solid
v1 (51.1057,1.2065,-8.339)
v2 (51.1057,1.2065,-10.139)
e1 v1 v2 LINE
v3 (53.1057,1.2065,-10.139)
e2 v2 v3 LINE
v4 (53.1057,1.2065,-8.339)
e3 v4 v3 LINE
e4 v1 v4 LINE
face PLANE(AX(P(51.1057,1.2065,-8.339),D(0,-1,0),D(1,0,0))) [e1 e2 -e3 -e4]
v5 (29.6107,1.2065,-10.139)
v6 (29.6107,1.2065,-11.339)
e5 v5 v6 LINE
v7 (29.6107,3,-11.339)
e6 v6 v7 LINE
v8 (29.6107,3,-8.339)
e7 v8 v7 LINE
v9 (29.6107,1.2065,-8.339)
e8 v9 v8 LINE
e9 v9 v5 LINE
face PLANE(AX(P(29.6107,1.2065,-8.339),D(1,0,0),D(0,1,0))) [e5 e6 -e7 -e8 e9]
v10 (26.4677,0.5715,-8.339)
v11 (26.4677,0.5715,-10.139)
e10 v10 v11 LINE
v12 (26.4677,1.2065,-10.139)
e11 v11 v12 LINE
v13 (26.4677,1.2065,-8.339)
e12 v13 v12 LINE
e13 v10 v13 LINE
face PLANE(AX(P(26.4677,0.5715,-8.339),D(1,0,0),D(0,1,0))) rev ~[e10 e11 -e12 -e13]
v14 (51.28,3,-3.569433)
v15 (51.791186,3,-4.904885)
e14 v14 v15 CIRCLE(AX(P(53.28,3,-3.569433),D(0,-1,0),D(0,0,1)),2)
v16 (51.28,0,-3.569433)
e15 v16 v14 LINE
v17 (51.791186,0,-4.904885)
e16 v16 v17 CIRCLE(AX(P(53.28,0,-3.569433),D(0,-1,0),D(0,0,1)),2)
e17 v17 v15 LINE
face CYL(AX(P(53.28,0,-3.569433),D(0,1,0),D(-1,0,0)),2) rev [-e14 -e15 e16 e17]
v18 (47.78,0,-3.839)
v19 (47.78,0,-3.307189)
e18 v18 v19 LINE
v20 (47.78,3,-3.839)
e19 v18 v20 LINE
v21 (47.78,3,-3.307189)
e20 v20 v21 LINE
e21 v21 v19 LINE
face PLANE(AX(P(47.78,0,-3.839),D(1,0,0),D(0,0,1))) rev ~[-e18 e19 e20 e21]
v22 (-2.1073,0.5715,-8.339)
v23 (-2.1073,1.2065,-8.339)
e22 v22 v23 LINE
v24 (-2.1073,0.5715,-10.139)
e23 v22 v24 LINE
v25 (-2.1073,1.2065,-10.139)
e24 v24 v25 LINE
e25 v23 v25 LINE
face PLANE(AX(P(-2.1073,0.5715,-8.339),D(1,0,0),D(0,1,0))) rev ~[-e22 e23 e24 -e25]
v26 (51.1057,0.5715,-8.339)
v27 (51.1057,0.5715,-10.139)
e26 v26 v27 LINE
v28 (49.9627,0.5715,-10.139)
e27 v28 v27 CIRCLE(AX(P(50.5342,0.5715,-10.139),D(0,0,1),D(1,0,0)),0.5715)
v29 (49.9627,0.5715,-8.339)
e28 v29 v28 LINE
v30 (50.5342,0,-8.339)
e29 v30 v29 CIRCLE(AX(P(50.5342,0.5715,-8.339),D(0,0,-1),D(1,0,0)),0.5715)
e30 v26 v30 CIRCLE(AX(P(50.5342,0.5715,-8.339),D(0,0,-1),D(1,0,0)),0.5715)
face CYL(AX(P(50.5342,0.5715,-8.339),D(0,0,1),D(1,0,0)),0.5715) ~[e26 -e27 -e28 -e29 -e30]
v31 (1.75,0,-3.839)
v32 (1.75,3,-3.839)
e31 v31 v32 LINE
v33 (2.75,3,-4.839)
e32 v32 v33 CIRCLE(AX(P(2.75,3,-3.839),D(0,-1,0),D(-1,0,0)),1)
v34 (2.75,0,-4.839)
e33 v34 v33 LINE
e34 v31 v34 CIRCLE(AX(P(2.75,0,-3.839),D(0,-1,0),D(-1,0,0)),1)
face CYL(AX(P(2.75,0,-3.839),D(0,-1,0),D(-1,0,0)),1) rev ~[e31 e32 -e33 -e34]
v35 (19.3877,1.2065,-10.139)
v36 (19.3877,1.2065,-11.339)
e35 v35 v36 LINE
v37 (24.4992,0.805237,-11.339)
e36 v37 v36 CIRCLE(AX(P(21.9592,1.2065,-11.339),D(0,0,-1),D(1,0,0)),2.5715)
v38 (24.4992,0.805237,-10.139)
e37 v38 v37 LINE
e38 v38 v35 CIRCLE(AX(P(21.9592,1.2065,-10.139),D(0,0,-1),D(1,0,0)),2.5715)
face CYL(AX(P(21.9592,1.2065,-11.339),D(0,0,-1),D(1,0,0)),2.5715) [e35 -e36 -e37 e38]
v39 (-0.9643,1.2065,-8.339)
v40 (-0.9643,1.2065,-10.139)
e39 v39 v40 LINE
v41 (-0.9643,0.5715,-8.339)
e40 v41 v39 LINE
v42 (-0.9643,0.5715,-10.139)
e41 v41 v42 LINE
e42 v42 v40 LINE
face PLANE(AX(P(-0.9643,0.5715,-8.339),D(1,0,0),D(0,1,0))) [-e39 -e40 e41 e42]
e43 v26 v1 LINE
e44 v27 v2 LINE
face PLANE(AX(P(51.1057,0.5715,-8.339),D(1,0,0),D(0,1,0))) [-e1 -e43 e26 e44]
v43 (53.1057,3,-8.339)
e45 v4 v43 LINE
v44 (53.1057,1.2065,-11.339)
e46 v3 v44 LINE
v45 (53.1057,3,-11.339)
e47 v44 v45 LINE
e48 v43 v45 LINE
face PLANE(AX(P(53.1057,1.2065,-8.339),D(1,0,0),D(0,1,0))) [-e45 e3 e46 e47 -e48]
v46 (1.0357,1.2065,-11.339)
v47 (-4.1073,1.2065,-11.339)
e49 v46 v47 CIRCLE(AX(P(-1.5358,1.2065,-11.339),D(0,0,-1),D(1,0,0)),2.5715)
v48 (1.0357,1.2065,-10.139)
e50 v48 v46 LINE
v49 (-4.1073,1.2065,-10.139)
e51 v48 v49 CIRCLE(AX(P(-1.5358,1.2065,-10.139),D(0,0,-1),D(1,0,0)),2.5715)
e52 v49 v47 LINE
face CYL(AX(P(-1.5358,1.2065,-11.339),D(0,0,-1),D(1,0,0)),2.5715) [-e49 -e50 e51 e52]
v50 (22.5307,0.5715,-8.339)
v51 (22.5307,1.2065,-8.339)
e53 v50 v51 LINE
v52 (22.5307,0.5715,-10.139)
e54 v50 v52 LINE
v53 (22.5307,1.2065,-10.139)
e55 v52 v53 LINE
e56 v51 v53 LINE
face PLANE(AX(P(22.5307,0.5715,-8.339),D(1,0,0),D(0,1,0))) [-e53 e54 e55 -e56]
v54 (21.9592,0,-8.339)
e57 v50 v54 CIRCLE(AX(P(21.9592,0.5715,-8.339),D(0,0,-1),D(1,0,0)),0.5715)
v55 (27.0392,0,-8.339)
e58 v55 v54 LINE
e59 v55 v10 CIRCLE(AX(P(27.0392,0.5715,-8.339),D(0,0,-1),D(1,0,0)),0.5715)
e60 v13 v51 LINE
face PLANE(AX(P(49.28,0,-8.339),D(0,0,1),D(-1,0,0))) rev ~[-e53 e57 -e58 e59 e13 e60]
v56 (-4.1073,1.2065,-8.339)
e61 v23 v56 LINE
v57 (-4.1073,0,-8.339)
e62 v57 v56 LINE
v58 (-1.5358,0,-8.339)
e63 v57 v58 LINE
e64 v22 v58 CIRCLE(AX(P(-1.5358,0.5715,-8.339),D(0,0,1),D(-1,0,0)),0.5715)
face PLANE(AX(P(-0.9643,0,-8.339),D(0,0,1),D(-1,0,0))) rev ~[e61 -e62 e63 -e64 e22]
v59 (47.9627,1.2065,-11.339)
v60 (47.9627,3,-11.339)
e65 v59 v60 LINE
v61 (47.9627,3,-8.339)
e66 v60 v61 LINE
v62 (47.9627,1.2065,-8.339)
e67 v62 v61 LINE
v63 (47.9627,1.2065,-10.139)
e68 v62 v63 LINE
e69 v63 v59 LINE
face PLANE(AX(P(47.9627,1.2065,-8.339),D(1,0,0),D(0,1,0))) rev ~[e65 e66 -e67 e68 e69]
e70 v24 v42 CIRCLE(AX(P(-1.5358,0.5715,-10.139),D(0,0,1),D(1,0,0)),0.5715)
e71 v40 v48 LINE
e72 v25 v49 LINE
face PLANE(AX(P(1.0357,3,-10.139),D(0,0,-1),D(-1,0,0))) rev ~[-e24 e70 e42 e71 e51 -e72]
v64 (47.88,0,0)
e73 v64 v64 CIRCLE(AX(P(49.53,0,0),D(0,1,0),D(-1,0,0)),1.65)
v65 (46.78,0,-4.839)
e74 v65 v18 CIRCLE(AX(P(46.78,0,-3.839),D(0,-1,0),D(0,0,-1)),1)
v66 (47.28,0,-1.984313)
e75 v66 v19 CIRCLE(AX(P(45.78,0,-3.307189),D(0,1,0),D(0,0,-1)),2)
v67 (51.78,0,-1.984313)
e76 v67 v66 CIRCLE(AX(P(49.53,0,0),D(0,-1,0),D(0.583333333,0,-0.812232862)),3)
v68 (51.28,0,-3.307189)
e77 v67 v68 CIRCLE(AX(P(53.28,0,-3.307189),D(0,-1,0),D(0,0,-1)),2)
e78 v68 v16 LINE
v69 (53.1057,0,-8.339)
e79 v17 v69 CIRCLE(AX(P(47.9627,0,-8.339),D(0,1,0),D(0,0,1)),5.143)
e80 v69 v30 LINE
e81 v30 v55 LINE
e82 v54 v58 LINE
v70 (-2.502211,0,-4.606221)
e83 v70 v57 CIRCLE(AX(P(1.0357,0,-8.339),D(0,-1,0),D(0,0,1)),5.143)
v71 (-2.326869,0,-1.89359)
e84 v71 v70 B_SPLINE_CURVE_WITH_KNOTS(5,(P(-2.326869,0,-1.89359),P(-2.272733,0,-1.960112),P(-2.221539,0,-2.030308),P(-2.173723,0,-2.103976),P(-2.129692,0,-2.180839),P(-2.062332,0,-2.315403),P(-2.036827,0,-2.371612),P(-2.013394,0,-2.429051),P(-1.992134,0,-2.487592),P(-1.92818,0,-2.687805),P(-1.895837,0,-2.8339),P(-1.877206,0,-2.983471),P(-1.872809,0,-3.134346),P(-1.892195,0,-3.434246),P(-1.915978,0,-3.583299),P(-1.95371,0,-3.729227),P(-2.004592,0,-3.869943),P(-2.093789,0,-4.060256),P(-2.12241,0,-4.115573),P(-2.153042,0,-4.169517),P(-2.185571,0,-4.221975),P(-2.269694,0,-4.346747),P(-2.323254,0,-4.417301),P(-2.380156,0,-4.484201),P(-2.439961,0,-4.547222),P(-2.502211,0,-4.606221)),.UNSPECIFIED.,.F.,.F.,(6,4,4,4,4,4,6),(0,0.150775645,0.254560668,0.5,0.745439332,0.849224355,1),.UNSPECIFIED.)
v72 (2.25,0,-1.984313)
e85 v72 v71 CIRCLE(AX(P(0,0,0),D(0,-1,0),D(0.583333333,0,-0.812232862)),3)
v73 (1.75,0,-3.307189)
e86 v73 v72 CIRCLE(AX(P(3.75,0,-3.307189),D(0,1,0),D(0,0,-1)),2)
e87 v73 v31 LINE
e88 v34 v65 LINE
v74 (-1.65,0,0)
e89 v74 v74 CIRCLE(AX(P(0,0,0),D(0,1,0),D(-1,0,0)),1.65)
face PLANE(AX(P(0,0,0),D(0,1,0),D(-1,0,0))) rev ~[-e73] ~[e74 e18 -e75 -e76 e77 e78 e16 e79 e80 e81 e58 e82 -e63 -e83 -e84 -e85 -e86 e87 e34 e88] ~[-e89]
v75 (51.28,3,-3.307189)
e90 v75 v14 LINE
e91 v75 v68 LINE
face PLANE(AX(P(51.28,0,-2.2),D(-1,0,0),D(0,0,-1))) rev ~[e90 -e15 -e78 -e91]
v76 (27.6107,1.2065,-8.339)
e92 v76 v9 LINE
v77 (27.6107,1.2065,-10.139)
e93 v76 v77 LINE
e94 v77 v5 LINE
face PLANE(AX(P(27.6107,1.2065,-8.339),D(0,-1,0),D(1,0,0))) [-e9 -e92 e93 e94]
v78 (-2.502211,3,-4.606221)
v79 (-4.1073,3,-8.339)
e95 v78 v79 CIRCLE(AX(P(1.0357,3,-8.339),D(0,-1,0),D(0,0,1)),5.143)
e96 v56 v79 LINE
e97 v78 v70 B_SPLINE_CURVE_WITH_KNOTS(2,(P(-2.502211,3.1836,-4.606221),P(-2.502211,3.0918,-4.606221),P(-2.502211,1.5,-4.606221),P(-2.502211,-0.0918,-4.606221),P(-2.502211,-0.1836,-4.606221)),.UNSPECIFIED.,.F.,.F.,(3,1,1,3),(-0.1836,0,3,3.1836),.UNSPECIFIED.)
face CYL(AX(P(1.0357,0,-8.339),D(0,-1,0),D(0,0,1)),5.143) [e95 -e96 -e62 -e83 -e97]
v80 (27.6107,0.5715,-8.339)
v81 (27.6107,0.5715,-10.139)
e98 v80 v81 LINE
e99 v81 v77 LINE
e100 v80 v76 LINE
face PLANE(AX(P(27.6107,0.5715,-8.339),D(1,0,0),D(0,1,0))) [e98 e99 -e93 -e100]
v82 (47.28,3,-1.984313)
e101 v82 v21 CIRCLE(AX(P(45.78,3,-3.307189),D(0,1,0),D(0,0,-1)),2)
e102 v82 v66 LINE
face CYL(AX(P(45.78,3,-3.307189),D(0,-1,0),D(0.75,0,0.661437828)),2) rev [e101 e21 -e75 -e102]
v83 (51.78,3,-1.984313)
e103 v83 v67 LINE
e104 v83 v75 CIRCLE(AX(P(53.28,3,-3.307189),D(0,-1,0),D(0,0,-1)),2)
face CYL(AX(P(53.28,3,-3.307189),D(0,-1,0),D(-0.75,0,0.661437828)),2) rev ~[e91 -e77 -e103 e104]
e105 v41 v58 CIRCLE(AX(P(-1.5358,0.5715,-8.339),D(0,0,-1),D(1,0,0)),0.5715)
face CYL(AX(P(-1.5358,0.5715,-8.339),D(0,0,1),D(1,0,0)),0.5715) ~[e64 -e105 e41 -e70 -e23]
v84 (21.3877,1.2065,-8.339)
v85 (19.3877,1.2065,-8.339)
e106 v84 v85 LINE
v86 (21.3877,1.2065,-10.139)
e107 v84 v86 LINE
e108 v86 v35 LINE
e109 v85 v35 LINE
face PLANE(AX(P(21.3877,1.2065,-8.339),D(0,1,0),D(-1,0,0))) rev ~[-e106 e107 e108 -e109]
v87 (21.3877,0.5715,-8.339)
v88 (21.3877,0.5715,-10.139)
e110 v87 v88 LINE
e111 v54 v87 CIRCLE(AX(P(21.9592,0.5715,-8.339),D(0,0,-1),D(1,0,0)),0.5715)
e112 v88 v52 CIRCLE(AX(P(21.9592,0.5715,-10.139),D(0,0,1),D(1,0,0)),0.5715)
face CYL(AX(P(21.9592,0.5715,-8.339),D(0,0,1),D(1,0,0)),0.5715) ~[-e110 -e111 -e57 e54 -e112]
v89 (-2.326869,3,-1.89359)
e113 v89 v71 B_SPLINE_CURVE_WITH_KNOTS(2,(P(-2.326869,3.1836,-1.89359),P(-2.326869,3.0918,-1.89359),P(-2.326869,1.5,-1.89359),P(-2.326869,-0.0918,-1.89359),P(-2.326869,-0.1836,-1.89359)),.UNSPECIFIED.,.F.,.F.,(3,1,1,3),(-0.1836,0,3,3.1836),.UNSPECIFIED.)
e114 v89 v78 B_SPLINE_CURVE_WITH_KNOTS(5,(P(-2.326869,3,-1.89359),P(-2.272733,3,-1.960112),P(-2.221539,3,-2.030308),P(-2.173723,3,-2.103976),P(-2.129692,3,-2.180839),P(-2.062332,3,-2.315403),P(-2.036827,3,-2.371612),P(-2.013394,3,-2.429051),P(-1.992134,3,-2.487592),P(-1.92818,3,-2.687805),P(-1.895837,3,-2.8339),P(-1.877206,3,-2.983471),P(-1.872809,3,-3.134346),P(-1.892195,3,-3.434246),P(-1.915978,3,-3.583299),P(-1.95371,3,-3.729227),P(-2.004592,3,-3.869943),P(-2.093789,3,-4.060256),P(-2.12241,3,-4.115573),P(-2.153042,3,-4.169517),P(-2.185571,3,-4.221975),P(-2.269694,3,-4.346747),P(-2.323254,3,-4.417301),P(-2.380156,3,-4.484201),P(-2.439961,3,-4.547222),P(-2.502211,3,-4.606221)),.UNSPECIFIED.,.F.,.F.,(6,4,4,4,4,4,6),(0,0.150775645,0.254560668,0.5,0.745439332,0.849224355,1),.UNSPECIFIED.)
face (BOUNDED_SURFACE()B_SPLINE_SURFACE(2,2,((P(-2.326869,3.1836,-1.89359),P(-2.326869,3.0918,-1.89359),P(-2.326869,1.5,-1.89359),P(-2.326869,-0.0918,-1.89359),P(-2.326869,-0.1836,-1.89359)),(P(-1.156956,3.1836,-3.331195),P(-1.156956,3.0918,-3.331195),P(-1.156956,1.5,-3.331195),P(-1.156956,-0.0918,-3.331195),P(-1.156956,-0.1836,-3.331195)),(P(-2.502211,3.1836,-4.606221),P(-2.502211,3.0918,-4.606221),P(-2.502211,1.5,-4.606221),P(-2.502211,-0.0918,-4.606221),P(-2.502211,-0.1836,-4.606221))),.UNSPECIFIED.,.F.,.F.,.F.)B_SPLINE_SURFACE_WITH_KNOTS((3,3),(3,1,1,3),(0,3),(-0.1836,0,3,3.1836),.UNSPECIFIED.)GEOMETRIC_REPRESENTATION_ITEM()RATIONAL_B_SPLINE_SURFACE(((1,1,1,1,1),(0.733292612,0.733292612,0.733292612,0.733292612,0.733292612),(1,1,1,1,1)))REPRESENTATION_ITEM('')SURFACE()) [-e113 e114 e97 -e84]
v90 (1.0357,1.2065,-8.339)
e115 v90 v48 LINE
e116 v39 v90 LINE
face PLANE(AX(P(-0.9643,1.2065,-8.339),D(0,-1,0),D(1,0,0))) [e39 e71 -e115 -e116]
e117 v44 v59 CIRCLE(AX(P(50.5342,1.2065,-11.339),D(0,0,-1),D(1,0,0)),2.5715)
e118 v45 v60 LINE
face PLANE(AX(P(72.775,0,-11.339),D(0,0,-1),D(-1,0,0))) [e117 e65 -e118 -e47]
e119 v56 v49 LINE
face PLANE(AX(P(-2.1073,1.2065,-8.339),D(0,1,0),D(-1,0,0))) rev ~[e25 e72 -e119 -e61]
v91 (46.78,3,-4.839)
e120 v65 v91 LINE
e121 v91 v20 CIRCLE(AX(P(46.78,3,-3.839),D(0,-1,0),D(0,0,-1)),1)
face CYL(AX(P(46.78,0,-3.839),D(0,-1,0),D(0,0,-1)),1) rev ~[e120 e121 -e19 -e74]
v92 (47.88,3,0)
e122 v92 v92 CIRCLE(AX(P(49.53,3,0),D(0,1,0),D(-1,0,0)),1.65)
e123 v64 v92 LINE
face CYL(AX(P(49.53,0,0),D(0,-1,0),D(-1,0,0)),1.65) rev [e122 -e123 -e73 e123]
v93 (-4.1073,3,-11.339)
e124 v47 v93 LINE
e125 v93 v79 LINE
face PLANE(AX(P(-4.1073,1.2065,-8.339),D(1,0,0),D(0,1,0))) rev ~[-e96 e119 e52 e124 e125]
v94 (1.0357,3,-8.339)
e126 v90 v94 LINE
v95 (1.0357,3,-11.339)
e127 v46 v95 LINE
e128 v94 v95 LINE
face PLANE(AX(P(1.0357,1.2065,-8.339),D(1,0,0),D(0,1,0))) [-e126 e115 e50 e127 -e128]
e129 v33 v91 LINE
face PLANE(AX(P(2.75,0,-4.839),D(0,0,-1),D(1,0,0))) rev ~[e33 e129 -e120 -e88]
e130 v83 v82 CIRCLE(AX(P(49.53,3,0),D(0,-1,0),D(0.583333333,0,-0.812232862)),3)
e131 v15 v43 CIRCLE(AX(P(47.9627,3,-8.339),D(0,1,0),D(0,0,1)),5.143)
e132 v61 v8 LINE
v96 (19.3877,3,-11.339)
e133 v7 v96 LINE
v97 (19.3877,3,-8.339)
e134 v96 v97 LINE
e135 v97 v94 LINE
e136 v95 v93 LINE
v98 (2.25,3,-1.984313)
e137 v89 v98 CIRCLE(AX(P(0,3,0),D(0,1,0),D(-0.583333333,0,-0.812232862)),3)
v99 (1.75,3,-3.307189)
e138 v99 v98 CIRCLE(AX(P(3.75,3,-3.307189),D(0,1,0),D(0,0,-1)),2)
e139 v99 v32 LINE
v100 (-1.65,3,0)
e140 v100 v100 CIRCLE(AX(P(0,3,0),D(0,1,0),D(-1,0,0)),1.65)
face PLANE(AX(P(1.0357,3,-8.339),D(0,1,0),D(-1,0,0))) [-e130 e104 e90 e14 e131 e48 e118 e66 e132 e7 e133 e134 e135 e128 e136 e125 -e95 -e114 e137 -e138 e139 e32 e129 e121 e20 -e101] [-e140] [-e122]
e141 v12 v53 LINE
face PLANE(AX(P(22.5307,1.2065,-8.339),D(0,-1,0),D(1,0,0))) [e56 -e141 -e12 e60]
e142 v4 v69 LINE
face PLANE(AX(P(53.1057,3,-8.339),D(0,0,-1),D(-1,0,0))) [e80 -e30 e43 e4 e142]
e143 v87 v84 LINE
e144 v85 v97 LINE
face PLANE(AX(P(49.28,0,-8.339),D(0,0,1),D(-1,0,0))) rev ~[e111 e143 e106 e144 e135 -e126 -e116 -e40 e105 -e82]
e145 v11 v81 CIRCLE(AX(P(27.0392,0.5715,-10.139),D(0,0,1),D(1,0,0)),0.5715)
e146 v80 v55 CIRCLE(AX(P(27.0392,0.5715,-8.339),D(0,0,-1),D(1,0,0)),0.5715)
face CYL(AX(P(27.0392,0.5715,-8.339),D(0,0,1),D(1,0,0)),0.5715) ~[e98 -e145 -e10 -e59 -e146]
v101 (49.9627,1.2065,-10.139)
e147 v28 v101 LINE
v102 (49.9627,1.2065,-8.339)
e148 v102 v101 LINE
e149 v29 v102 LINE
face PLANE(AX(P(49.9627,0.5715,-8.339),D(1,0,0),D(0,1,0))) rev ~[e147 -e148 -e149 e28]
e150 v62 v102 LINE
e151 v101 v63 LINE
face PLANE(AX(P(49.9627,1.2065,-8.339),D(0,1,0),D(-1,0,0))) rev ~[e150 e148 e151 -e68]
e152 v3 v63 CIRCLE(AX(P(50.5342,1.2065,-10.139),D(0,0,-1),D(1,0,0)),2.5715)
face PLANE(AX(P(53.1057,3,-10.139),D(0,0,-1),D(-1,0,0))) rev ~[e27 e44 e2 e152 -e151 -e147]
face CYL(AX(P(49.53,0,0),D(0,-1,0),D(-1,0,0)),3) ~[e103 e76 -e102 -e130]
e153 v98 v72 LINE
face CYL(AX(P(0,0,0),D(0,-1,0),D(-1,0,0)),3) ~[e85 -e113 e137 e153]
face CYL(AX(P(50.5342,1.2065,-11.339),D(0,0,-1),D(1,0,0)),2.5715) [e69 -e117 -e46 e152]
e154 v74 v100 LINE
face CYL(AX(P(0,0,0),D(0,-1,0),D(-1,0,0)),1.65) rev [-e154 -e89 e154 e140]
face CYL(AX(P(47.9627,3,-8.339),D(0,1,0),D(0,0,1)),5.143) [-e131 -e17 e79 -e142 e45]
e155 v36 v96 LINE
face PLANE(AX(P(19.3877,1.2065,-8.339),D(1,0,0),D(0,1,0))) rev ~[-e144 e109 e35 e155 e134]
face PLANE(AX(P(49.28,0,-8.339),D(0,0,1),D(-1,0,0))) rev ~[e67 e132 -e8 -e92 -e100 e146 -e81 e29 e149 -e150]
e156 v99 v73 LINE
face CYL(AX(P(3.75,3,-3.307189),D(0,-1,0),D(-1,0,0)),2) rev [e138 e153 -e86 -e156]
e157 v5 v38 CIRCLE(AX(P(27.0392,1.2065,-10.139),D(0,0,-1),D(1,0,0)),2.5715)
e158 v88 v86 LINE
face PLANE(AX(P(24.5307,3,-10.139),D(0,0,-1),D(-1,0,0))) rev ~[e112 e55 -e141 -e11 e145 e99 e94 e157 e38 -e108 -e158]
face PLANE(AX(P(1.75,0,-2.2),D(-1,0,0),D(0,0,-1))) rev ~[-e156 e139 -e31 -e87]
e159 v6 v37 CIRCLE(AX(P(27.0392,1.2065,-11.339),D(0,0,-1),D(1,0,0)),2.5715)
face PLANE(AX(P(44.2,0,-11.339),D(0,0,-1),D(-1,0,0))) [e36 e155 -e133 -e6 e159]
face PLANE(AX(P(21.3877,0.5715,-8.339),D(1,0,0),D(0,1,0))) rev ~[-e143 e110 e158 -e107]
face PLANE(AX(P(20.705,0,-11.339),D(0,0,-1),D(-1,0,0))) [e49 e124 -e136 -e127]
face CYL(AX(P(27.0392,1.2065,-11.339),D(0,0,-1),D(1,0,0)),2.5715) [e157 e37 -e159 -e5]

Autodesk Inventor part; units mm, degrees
ref_plane "YZ Plane" through (0, 0, 0) normal (1, 0, 0) x (0, 1, 0)
ref_plane "XZ Plane" through (0, 0, 0) normal (0, 1, 0) x (-1, 0, 0)
ref_plane "XY Plane" through (0, 0, 0) normal (0, 0, 1) x (1, 0, 0)
sketch "Sketch1" plane through (0, 0, 0) normal (0, 1, 0) x (-1, 0, 0)
  circle A0 centre (0, 0) radius 1.65
  line L0 (0, 0) -> (22.8671, 0) construction
  circle A1 centre (-49.53, 0) radius 1.65
  circle A2 centre (-49.53, 0) radius 3
  line L1 (-24.765, 0) -> (-24.765, 33.4897) construction
  line L2 (0, 0) -> (0, -6.322) construction
  line L3 (-49.53, 0) -> (-44.53, 0) construction
  circle A3 centre (0, 0) radius 3
  dimension "d0" = 3.3
  dimension "d2" = 49.53
  dimension "d3" = 3.3
  dimension "d4" = 6
  dimension "d11" = 6
extrude "Extrusion1" add sketch "Sketch1" along normal blind 3
sketch "Sketch2" plane through (49.53, 0, 0) normal (0, -1, 0) x (1, 0, 0)
  line L0 (1.75, -2.2) -> (1.75, -6.339)
  line L1 (-0.25, -8.339) -> (-49.28, -8.339)
  line L2 (-51.28, -6.339) -> (-51.28, -2.2)
  line L3 (-47.78, -2.2) -> (-47.78, -3.839)
  line L4 (-46.78, -4.839) -> (-2.75, -4.839)
  line L5 (-1.75, -3.839) -> (-1.75, -2.2)
  line L6 (0, 0) -> (0, -7.7115) construction
  line L7 (1.75, -2.2) -> (-1.75, -2.2)
  line L8 (-49.53, 0) -> (-49.53, -7.2415) construction
  line L9 (-47.78, -2.2) -> (-51.28, -2.2)
  arc A0 (-47.78, -3.839) -> (-46.78, -4.839) centre (-46.78, -3.839) ccw
  arc A1 (-2.75, -4.839) -> (-1.75, -3.839) centre (-2.75, -3.839) ccw
  arc A2 (-51.28, -6.339) -> (-49.28, -8.339) centre (-49.28, -6.339) ccw
  arc A3 (-0.25, -8.339) -> (1.75, -6.339) centre (-0.25, -6.339) ccw
  point P0 (1.75, -8.339)
  point P1 (0, -2.2)
  point P2 (-49.53, -2.2)
  dimension "d14" = 6.139
  dimension "d15" = 2.2
  dimension "d16" = 3.5
  dimension "d17" = 3.5
  dimension "d18" = 2.2
  dimension "d19" = 1
  dimension "d20" = 2
extrude "Extrusion2" add sketch "Sketch2" against normal blind 3
sketch "Sketch3" plane through (49.28, 0, -8.339) normal (0, 0, -1) x (-1, 0, 0)
  arc A0 (21.6693, 0.5715) -> (22.8123, 0.5715) centre (22.2408, 0.5715) ccw
  line L0 (49.03, 0) -> (0, 0) construction
  line L1 (0, 3) -> (49.03, 3) projected
  line L2 (-2, 0) -> (-2, 3) projected
  line L3 (22.8123, 0.5715) -> (22.8123, 1.2065)
  line L4 (22.8123, 1.2065) -> (24.8123, 1.2065)
  line L5 (24.8123, 1.2065) -> (24.8123, 3)
  line L6 (21.6693, 0.5715) -> (21.6693, 1.2065)
  line L7 (21.6693, 1.2065) -> (19.6693, 1.2065)
  line L8 (19.6693, 1.2065) -> (19.6693, 3)
  line L9 (22.2408, 0.5715) -> (23.4157, 0.5715) construction
  line L10 (24.8123, 3) -> (19.6693, 3)
  point P0 (49.28, 0)
  point P1 (46.53, 3)
  point P2 (2.5, 3)
  dimension "d23" = 1.143
  dimension "d26" = 24.2408
  dimension "d27" = 2
  dimension "d28" = 2
  dimension "d29" = 0.635
  dimension "d30" = 0.635
  dimension "d31" = 2.4285
extrude "Extrusion3" add sketch "Sketch3" along normal blind 3
pattern_linear "Rectangular Pattern1" count 2 spacing 23.495 along (1, 0, 0) of "Extrusion3"
sketch "Sketch4" plane through (47.9627, 3, -8.339) normal (0, 1, 0) x (1, 0, 0)
  arc A0 (0, -5.143) -> (5.143, 0) centre (0, 0) ccw
  line L0 (5.143, 0) -> (0, 0)
  line L1 (0, 0) -> (0, -5.143)
  point P0 (-47.9627, -8.339)
extrude "Extrusion4" add sketch "Sketch4" against normal blind 3
pattern_linear "Rectangular Pattern2" count 2 spacing 5.08 along (-1, 0, 0) of "Extrusion3"
pattern_linear "Rectangular Pattern3" count 2 spacing 23.495 along (-1, 0, 0) of "Rectangular Pattern2"
sketch "Sketch6" plane through (0, 0, 0) normal (0, -1, 0) x (1, 0, 0)
  line L0 (1.0357, -8.339) -> (-4.1073, -8.339)
  line L1 (-4.1073, -8.339) -> (-1.6483, -8.339)
  line L2 (-0.2103, -8.339) -> (0.25, -8.339)
  line L3 (0.25, -8.339) -> (1.0357, -8.339)
  line L4 (1.0357, -8.339) -> (1.0357, -3.196)
  arc A0 (1.0357, -3.196) -> (-4.1073, -8.339) centre (1.0357, -8.339) ccw
  line L5 (-0.9643, -8.339) -> (0.25, -8.339) projected
  line L6 (-0.9643, -8.339) -> (-0.9643, -11.339) projected
  line L7 (1.0357, -11.339) -> (-0.9643, -11.339) projected
  line L8 (1.0357, -8.339) -> (1.0357, -11.339) projected
  line L9 (0.25, -8.339) -> (1.0357, -8.339) projected
  line L10 (-4.1073, -8.339) -> (-2.1073, -8.339) projected
  line L11 (-4.1073, -8.339) -> (-4.1073, -11.339) projected
  line L12 (-2.1073, -11.339) -> (-4.1073, -11.339) projected
  line L13 (-2.1073, -8.339) -> (-2.1073, -11.339) projected
  line L14 (0.25, -8.339) -> (21.9592, -8.339) projected
  point P0 (5.143, 0)
extrude "Extrusion5" add sketch "Sketch6" against normal blind 3 contours L0 A0 L4
sketch "Sketch7" plane through (53.1057, 3, -11.339) normal (0, 0, -1) x (-1, 0, 0)
  line L0 (3.143, -2.4285) -> (3.143, -1.7935) construction
  line L1 (3.143, -1.7935) -> (5.143, -1.7935) construction
  line L2 (5.143, -1.7935) -> (5.143, 0) construction
  line L3 (5.143, 0) -> (0, 0) construction
  line L4 (0, 0) -> (0, -1.7935) construction
  line L5 (0, -1.7935) -> (2, -1.7935) construction
  line L6 (2, -1.7935) -> (2, -2.4285) construction
  arc A0 (2, -2.4285) -> (3.143, -2.4285) centre (2.5715, -2.4285) ccw construction
  line L7 (0, -1.7935) -> (0, 0)
  line L8 (0, 0) -> (5.143, 0)
  line L9 (5.143, 0) -> (5.143, -1.7935)
  arc A1 (0, -1.7935) -> (5.143, -1.7935) centre (2.5715, -1.7935) ccw
  line L10 (5.143, -1.7935) -> (0, -1.7935) construction
  line L11 (5.143, -1.7935) -> (5.143, 0) construction
  point P0 (53.1057, -3)
extrude "Extrusion6" add sketch "Sketch7" against normal blind 1.2
pattern_linear "Rectangular Pattern4" count 2 spacing 23.495 along (-1, 0, 0) of "Extrusion6"
pattern_linear "Rectangular Pattern5" count 2 spacing 28.575 along (-1, 0, 0) of "Extrusion6"
pattern_linear "Rectangular Pattern6" count 2 spacing 52.07 along (-1, 0, 0) of "Extrusion6"
sketch "Sketch9" plane through (0, 0, 0) normal (0, -1, 0) x (1, 0, 0)
  circle A0 centre (0, 0) radius 1.65 projected
  circle A1 centre (49.53, 0) radius 1.65 projected
  circle A2 centre (49.53, 0) radius 3.5
  arc A3 (1.75, -2.4367) -> (-1.75, -2.4367) centre (0, 0) ccw projected
  circle A4 centre (0, 0) radius 3.5
  point P0 (2.1649, -2.7501)
extrude "Extrusion7" [suppressed]
fillet "Fillet2" radius 2 2 edges at (1.75, 1.5, -2.4367) (47.78, 1.5, -2.4367)
fillet "Fillet3" radius 2 4 edges at (-1.75, 1.5, -2.4367) (51.28, 1.5, -2.4367) (51.28, 1.5, -4.4088) (-1.75, 1.5, -4.0158)
properties part number "HDMIPluginModuleHolder03"
